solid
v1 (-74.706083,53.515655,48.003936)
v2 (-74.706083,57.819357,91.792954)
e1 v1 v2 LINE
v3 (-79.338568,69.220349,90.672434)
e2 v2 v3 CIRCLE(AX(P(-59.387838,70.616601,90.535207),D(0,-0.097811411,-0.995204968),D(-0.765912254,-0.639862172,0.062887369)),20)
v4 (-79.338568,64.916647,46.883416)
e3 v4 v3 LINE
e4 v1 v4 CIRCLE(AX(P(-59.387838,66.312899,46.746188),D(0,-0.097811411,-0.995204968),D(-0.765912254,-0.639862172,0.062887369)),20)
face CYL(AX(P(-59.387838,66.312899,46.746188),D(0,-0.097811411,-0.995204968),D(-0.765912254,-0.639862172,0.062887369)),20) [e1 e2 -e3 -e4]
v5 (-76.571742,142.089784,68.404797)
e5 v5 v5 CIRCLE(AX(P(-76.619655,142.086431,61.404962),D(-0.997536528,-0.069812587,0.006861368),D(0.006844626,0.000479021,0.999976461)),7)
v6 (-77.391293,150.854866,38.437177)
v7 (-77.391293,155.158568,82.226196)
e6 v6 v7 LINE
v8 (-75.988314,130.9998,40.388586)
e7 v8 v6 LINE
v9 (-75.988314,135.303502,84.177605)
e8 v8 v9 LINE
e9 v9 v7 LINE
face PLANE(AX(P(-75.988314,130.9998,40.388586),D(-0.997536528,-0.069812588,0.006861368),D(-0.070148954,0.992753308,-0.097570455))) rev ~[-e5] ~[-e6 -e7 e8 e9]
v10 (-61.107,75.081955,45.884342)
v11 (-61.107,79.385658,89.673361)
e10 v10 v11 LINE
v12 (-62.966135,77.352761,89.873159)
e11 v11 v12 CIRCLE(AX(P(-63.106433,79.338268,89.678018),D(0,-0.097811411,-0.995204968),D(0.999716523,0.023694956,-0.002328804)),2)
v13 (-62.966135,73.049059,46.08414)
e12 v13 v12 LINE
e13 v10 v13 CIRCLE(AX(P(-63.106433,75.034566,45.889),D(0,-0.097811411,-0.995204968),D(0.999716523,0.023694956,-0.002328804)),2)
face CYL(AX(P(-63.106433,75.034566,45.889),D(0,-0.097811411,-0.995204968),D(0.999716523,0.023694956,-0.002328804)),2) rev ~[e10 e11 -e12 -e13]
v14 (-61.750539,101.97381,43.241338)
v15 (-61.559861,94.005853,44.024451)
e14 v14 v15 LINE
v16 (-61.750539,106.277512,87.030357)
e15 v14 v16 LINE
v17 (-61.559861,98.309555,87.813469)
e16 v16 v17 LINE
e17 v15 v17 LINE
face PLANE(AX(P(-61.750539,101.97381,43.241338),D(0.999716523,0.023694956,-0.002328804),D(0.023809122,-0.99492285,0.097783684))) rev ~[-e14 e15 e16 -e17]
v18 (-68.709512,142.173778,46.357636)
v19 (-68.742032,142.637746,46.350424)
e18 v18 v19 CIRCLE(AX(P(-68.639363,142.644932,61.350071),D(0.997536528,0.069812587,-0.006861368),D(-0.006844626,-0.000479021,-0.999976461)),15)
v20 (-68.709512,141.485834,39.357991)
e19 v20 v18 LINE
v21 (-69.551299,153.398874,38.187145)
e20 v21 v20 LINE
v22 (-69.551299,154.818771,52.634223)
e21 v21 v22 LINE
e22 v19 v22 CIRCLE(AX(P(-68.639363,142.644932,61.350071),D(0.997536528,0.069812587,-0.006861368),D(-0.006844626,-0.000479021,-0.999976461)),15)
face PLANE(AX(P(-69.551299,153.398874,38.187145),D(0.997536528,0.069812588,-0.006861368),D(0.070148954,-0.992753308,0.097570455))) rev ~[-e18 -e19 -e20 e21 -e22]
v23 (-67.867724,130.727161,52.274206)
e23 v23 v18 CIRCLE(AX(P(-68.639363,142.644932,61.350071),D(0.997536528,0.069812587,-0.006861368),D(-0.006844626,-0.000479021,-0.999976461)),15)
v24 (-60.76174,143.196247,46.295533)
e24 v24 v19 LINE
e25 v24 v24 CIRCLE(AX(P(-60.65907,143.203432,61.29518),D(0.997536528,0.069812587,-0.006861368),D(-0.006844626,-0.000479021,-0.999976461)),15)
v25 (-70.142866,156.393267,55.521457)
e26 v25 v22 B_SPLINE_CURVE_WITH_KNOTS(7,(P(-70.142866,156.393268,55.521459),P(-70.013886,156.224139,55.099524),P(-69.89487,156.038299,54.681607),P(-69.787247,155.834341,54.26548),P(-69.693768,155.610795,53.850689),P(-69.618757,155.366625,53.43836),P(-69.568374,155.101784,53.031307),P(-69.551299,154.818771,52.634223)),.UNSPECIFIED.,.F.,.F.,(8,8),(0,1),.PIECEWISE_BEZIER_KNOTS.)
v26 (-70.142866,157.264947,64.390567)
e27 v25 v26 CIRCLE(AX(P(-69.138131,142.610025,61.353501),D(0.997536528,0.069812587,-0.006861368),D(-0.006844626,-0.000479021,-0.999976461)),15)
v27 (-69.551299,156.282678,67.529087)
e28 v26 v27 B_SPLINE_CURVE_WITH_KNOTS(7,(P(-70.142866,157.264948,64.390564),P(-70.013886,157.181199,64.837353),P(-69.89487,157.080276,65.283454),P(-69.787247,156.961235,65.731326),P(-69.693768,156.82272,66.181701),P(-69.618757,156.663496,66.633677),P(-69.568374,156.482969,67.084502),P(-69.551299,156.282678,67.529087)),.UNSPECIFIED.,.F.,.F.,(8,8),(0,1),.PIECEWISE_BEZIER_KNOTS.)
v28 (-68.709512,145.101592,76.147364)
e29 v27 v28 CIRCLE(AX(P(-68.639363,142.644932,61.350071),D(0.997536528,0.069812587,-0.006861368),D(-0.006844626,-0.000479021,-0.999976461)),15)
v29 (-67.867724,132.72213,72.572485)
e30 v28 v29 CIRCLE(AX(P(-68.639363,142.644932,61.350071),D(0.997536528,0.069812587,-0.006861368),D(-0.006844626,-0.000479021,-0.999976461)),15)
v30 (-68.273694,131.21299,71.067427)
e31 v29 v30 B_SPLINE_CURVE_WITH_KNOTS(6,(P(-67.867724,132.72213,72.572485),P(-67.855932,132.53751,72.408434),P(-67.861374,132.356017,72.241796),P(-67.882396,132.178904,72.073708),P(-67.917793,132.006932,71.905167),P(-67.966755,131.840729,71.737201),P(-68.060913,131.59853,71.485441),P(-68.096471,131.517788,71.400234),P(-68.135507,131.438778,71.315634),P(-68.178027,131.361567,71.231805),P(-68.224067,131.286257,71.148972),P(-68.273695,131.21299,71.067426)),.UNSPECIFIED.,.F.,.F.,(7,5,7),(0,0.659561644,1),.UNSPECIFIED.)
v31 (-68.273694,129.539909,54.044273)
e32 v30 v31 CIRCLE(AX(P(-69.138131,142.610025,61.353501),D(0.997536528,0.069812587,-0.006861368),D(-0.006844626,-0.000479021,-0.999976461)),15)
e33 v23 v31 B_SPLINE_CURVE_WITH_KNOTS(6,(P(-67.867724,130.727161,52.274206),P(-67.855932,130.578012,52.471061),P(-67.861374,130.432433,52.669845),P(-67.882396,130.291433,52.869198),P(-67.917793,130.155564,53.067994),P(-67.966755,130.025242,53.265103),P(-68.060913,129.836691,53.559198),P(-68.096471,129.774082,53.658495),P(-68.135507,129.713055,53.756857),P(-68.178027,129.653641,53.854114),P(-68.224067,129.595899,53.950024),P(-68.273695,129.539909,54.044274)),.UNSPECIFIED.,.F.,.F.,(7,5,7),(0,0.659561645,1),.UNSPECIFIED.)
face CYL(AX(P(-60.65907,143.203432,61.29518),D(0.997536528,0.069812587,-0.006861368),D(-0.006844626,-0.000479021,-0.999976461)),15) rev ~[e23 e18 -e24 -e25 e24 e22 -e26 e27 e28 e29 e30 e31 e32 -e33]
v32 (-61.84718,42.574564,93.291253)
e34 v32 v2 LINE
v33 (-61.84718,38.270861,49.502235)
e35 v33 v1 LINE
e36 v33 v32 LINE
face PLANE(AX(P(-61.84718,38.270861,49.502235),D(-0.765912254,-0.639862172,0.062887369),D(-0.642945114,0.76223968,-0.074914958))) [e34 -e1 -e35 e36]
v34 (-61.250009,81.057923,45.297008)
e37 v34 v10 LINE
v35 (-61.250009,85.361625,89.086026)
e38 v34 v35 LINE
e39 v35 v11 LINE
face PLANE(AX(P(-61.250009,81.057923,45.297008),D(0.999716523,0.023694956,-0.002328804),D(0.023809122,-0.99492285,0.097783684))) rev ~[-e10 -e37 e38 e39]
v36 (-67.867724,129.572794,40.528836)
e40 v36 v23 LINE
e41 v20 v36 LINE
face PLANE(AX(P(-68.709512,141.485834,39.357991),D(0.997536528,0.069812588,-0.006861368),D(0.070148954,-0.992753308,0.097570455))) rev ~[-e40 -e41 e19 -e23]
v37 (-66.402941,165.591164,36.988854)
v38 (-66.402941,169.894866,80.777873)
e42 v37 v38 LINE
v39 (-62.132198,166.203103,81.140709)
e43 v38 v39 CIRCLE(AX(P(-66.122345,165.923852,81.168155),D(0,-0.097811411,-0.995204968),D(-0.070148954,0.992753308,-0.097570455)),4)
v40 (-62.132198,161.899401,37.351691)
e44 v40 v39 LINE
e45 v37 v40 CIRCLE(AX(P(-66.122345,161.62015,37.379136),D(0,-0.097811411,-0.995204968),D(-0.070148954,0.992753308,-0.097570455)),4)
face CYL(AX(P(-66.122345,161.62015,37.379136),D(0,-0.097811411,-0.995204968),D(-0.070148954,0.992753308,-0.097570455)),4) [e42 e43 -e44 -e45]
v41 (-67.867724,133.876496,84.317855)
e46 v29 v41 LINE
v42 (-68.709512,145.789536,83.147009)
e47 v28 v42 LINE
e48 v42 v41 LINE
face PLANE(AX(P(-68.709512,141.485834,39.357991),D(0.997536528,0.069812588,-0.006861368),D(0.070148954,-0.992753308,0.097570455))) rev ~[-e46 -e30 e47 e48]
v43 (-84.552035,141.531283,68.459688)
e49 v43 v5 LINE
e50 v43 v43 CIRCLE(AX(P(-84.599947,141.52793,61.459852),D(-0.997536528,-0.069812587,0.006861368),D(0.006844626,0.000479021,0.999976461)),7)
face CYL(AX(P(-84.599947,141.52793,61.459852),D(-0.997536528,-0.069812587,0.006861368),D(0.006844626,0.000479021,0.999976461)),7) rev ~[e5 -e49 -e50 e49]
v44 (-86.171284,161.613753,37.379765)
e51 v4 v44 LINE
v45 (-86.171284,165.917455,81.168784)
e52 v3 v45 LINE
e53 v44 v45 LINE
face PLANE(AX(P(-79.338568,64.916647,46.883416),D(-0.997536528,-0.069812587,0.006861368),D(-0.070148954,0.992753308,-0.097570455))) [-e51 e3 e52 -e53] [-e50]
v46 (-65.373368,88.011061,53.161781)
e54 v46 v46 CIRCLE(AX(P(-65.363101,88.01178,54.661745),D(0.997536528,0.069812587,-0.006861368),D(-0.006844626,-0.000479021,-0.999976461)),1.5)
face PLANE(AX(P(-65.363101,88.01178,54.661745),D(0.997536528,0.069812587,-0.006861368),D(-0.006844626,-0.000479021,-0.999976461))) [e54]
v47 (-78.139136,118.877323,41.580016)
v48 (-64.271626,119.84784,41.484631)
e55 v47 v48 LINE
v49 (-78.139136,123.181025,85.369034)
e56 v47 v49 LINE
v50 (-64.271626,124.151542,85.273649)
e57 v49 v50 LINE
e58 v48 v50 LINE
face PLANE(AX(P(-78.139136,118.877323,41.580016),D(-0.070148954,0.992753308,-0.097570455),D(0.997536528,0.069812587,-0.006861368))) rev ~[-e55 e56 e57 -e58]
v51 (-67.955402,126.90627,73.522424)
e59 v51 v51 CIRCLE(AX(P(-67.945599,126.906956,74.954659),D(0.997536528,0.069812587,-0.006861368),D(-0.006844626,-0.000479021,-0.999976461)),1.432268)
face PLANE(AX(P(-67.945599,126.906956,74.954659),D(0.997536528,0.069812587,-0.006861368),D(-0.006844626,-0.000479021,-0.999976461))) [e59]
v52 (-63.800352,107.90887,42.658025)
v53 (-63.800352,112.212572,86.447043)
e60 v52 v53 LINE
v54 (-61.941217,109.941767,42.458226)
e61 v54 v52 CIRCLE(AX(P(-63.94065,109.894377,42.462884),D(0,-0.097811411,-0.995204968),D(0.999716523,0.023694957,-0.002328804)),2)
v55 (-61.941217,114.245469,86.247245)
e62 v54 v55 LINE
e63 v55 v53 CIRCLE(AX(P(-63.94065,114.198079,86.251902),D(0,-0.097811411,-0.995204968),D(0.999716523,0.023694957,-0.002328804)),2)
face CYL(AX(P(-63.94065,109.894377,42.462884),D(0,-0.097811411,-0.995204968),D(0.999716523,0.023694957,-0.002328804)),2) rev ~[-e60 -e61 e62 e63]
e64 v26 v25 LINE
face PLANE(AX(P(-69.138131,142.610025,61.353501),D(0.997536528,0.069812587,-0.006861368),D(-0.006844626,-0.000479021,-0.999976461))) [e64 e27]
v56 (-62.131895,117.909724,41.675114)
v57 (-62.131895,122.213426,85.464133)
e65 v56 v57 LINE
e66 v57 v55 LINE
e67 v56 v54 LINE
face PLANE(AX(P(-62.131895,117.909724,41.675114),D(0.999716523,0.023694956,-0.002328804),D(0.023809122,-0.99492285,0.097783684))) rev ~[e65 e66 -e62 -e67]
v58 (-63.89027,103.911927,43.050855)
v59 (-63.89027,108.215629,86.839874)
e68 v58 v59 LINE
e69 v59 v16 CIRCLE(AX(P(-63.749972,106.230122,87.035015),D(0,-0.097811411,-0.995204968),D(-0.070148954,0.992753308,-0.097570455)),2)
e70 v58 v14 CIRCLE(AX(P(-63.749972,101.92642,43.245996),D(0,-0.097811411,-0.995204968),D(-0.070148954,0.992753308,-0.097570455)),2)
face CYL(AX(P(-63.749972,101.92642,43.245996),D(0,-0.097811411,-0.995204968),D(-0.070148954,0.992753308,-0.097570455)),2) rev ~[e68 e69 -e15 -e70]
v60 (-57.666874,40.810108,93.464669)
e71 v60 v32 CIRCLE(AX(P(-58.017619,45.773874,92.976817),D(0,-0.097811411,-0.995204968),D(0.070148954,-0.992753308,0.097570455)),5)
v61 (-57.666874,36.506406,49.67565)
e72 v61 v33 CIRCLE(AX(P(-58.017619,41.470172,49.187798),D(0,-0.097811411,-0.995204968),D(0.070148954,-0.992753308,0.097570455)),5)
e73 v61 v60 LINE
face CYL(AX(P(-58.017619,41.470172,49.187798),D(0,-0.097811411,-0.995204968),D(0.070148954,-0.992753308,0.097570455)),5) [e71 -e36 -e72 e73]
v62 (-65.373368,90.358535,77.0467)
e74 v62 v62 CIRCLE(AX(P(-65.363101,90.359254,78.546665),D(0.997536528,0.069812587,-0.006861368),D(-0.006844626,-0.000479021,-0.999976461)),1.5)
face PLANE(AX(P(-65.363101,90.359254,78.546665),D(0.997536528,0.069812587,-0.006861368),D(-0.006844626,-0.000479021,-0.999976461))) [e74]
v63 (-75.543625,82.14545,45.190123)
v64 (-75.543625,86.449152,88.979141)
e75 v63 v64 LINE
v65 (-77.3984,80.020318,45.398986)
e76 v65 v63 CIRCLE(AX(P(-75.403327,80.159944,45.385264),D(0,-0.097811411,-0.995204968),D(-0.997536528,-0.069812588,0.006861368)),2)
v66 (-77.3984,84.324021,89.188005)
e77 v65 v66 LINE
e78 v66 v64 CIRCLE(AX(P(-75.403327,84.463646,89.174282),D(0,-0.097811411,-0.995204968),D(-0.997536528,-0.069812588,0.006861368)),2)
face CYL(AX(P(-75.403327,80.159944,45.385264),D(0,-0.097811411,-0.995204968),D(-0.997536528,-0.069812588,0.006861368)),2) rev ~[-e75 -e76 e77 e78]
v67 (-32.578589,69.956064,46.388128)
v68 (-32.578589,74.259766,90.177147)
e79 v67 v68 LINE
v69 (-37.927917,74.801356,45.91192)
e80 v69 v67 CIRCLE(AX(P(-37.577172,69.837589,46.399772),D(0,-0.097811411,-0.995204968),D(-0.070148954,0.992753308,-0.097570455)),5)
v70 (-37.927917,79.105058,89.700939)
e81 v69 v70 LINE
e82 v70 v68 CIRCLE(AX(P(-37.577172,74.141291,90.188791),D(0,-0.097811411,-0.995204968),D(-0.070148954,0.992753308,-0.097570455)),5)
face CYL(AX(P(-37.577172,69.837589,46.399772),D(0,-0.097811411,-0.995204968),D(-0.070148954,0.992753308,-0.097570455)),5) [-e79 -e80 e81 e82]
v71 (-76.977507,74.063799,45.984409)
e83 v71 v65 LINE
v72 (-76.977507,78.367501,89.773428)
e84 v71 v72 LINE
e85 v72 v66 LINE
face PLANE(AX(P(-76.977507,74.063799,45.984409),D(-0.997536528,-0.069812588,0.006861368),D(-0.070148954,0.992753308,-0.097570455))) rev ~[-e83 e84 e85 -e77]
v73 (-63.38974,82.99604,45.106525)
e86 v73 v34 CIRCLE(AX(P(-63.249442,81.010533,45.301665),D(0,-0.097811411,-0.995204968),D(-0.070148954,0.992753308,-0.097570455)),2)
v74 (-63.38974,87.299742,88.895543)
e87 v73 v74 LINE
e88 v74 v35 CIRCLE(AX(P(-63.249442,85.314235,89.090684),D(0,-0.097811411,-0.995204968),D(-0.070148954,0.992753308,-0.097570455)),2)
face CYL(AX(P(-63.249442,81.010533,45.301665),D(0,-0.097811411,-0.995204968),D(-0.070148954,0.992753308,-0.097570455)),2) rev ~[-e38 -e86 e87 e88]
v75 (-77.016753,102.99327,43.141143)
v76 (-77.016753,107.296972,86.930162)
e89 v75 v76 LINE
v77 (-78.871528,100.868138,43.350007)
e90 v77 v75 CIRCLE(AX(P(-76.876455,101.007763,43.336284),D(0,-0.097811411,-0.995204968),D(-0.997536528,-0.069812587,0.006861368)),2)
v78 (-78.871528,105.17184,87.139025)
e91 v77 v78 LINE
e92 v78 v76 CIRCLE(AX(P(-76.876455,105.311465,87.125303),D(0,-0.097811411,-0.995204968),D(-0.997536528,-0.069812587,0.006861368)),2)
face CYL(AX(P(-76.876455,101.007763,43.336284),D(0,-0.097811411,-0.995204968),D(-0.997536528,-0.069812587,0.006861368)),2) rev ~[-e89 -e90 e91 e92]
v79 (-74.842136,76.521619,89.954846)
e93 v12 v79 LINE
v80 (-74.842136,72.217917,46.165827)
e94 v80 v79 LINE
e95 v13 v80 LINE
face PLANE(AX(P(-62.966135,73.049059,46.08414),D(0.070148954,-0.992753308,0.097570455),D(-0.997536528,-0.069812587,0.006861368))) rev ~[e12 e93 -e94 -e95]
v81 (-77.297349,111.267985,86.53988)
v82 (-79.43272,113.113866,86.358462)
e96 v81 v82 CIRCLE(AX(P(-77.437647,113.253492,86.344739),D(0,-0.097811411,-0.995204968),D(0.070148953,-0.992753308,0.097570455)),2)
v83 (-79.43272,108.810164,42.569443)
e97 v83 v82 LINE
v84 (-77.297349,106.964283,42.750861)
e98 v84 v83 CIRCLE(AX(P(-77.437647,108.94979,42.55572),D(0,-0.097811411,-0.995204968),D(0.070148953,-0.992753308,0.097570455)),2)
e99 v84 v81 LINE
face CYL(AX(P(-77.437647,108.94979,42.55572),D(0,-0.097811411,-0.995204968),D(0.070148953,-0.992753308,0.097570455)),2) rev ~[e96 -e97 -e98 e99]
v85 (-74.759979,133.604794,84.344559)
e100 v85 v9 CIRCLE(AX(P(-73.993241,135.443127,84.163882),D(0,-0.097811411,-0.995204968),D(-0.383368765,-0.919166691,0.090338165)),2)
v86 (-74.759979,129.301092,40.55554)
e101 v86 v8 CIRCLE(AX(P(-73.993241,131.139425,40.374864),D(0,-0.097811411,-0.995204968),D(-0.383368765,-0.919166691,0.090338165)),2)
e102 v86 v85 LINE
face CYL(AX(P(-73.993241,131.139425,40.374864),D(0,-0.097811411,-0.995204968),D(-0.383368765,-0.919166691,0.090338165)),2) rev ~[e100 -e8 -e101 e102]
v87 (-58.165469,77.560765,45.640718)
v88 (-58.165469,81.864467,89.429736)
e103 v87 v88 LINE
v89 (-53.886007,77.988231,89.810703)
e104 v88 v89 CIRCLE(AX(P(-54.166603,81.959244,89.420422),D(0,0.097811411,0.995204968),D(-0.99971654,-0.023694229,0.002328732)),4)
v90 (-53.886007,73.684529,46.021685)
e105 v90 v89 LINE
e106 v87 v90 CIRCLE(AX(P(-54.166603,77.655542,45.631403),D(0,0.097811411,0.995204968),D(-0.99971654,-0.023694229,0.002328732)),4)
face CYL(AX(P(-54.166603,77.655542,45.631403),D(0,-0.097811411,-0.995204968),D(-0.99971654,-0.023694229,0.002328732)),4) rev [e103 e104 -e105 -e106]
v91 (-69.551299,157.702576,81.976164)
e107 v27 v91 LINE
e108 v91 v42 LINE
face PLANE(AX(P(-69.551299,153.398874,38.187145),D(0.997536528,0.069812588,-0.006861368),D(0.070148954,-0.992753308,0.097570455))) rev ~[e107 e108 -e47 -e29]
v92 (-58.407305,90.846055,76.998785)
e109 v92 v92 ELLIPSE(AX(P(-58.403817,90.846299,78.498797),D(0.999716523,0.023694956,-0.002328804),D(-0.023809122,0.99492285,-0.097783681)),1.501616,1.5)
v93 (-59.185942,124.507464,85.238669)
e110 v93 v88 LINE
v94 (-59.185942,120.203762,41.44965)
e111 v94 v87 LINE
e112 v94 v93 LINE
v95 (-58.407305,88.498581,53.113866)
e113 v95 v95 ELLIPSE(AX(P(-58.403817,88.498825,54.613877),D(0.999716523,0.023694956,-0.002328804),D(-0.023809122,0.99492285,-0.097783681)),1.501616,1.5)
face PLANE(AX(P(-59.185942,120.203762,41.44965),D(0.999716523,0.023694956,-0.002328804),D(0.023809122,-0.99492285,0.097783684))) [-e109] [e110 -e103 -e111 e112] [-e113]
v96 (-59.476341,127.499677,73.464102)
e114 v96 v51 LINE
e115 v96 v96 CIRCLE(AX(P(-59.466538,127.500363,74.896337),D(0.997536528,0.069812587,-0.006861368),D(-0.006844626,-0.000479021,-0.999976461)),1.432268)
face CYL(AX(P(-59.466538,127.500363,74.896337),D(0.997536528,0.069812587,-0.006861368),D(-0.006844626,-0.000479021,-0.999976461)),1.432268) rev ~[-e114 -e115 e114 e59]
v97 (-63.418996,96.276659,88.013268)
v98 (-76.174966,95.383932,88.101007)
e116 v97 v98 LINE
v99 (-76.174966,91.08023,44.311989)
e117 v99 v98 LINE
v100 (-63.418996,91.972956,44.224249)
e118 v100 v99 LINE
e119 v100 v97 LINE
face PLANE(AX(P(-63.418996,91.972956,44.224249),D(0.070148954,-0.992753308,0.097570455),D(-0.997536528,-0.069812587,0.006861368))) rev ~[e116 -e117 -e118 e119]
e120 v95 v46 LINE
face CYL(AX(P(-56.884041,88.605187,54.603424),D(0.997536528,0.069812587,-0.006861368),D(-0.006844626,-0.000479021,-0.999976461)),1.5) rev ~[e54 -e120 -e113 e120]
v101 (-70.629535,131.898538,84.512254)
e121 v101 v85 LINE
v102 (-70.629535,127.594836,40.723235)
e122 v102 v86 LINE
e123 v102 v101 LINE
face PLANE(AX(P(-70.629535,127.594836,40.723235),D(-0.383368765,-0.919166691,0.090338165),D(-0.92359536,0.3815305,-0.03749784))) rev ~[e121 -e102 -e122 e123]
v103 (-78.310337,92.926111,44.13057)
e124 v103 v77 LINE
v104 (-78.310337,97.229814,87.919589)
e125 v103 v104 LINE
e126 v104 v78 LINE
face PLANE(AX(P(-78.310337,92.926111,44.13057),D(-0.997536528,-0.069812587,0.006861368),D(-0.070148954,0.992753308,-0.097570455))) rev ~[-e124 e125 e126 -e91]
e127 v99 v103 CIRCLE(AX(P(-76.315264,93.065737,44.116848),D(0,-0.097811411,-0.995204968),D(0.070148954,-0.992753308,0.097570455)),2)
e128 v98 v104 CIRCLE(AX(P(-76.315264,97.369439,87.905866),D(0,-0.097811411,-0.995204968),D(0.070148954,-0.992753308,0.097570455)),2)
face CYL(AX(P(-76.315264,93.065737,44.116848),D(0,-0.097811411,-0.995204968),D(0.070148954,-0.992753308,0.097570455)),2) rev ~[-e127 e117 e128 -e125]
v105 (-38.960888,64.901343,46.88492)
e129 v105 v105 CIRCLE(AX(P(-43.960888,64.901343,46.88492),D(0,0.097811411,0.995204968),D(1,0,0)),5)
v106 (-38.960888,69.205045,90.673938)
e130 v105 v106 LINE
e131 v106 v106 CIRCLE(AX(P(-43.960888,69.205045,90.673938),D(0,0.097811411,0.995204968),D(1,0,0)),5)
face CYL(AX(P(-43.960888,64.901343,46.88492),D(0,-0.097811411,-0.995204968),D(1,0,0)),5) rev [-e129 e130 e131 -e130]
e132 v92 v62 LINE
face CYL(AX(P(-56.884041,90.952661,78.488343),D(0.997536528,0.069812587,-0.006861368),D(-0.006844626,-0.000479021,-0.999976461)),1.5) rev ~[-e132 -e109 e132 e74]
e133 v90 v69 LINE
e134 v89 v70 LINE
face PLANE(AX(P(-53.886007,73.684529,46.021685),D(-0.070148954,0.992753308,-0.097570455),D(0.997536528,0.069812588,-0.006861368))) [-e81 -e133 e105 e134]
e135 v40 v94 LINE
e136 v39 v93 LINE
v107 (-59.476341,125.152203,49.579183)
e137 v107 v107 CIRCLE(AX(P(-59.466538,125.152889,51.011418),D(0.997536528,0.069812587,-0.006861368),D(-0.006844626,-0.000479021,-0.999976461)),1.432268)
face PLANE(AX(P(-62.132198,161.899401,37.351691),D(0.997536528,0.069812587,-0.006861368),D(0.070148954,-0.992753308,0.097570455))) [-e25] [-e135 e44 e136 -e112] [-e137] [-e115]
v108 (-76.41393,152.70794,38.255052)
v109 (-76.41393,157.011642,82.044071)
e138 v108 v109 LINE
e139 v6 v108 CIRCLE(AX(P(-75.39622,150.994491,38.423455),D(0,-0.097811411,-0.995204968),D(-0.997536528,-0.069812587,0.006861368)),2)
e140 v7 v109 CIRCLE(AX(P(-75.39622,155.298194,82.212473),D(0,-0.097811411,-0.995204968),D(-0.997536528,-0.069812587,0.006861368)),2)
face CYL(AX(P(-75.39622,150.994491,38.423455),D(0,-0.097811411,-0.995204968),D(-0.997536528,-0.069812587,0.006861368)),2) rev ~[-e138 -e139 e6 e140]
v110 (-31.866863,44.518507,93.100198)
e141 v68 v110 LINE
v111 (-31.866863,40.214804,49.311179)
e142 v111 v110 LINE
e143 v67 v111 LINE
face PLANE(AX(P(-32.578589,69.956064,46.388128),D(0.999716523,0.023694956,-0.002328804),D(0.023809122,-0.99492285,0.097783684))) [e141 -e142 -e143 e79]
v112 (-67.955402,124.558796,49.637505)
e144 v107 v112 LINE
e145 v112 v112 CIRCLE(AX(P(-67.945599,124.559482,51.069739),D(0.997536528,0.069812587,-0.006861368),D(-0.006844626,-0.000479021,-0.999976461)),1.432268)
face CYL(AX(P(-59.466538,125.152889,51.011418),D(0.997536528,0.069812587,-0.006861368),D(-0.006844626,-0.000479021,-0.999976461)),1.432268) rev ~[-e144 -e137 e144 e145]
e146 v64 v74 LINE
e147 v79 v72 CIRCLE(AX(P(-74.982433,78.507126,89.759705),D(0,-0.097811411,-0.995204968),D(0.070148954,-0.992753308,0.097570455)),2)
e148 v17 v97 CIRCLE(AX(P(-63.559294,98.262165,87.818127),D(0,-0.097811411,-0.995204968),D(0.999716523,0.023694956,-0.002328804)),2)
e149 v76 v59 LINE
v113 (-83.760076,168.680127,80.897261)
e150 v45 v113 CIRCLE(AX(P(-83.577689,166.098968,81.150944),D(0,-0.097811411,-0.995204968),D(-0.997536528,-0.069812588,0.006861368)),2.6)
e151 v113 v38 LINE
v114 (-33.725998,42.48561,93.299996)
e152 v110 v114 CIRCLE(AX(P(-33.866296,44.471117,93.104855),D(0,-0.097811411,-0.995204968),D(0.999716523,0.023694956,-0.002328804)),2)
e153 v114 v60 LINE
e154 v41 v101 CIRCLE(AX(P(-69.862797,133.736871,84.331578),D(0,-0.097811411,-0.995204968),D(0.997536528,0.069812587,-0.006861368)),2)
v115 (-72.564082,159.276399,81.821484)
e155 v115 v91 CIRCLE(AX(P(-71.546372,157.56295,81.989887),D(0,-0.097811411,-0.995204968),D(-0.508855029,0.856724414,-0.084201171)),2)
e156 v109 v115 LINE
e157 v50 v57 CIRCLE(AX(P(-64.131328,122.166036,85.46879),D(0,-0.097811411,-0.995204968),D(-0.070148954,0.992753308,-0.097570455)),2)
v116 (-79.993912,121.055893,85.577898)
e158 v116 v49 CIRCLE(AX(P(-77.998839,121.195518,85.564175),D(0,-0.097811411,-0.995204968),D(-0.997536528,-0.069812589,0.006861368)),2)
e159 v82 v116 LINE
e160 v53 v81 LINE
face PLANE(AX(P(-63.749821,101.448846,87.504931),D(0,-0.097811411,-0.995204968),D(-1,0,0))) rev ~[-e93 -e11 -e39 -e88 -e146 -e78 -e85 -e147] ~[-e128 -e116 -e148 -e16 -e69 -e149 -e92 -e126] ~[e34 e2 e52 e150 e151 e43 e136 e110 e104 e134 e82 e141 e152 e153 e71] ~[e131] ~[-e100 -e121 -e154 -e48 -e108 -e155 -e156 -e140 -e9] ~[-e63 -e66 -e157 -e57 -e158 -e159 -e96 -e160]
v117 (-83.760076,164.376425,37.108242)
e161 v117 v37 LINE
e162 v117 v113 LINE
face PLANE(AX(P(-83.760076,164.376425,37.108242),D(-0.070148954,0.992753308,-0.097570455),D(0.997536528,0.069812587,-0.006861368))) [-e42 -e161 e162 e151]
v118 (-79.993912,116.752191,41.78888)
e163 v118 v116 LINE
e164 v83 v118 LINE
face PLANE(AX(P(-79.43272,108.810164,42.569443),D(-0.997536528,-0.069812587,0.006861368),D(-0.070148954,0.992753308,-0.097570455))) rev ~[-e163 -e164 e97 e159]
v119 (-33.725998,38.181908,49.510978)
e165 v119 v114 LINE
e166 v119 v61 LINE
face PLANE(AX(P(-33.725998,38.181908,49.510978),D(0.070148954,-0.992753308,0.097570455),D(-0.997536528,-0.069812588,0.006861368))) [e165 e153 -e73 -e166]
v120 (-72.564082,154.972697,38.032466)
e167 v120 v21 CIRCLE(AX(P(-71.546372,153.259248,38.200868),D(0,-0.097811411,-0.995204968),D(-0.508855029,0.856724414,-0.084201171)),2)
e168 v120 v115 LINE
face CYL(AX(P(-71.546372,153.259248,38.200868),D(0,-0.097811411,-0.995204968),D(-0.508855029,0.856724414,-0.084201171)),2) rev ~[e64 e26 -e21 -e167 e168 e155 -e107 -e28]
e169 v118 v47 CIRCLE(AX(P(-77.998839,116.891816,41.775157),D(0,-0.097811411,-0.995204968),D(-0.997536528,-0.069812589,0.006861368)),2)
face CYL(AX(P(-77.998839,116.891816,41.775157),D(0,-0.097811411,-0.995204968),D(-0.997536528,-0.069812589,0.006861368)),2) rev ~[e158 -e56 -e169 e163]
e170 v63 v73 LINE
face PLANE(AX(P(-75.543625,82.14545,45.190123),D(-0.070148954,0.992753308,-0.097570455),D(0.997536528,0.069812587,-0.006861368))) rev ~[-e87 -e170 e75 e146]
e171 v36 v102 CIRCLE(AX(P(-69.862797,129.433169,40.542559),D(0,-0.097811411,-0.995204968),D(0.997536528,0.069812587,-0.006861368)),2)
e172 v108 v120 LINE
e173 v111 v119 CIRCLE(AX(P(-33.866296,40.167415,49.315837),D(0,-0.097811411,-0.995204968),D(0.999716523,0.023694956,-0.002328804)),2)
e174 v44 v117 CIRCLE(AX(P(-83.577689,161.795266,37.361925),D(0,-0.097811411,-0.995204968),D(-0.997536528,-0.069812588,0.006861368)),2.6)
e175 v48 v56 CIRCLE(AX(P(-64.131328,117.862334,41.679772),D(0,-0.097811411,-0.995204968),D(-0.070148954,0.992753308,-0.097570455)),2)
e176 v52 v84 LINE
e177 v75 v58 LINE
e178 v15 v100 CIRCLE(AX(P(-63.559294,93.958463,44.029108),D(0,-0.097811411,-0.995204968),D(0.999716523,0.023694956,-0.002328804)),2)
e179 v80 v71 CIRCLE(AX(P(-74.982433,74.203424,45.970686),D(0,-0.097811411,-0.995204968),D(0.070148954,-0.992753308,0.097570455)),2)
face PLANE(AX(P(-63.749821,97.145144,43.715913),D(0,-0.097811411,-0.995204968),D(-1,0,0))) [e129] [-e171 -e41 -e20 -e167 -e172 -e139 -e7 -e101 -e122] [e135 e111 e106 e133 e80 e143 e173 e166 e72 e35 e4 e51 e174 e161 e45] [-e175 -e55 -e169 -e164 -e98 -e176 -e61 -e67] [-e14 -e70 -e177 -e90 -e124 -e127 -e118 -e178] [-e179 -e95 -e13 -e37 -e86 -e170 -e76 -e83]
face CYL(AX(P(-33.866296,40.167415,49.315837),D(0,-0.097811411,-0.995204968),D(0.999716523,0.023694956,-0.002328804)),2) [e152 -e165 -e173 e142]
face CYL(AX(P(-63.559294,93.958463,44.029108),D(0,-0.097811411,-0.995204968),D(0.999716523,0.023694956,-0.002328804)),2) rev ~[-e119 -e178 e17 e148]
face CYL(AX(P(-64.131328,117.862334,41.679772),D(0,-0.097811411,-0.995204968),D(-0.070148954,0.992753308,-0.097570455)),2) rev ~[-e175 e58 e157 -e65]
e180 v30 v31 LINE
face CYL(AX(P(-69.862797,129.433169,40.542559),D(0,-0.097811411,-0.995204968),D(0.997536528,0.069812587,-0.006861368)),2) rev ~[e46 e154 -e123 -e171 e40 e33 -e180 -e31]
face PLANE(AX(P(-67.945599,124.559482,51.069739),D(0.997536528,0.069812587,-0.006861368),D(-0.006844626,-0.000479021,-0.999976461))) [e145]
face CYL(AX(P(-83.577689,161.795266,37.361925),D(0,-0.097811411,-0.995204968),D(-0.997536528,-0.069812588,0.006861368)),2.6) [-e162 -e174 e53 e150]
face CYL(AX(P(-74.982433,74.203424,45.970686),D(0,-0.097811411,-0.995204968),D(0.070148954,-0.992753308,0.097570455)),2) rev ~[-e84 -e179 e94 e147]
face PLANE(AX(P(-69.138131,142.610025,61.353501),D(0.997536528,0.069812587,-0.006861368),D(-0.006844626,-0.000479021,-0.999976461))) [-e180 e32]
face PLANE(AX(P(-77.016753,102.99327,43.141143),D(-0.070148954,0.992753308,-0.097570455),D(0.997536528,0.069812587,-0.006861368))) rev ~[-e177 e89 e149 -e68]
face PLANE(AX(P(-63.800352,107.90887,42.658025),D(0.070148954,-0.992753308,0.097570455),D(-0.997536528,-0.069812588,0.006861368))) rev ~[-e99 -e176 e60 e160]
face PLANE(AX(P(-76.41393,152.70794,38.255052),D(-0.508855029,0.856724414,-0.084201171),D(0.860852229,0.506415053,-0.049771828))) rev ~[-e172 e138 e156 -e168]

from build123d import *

# Parameters (mm, degrees)
SKETCH2_R           = 5
BOSS_EXTRUDE1_DEPTH = 44
SKETCH4_R           = 7
CUT_EXTRUDE1_DEPTH  = 44
SKETCH3_R           = 15
SKETCH3_R_2         = 1.432268471
SKETCH3_R_3         = 1.5
CUT_EXTRUDE2_DEPTH  = 8.5


with BuildPart() as part:
    # Sketch2 → Boss-Extrude1 (new body)
    with BuildSketch(Plane(origin=(0, 5.184806561, 52.754021043), x_dir=(1, 0, 0), z_dir=(0, 0.097811411, 0.995204968))):
        with BuildLine():
            Line((-79.338568196, 60.019636282), (-86.171283653, 157.182642502))
            ThreePointArc((-86.171283653, 157.182642502), (-85.540604549, 159.070011115), (-83.760075933, 159.958624788))
            Line((-83.760075933, 159.958624788), (-66.40294057, 161.179216572))
            ThreePointArc((-66.40294057, 161.179216572), (-63.499296447, 160.208940992), (-62.13219844, 157.469666101))
            Line((-62.13219844, 157.469666101), (-59.185942386, 115.573132123))
            Line((-59.185942386, 115.573132123), (-58.165469, 72.72467593))
            ThreePointArc((-58.165469, 72.72467593), (-56.858994047, 69.861695577), (-53.88600747, 68.829763352))
            Line((-53.88600747, 68.829763352), (-37.927916785, 69.95197125))
            ThreePointArc((-37.927916785, 69.95197125), (-34.211684563, 68.662057426), (-32.578589401, 65.083334219))
            Line((-32.578589401, 65.083334219), (-31.866862588, 35.198777134))
            ThreePointArc((-31.866862588, 35.198777134), (-32.387188107, 33.80496391), (-33.725997726, 33.156085835))
            Line((-33.725997726, 33.156085835), (-57.666874392, 31.472510939))
            ThreePointArc((-57.666874392, 31.472510939), (-59.969896102, 31.85708433), (-61.84718043, 33.245468007))
            Line((-61.84718043, 33.245468007), (-74.706082713, 48.563713079))
            ThreePointArc((-74.706082713, 48.563713079), (-77.929269747, 53.924929356), (-79.338568196, 60.019636282))
        make_face()
        with Locations((-43.960887699, 60.004258737)):
            Circle(SKETCH2_R, mode=Mode.SUBTRACT)
        with BuildLine():
            Line((-62.966135351, 68.191231545), (-74.842135577, 67.356085192))
            ThreePointArc((-74.842135577, 67.356085192), (-76.293957569, 67.841222959), (-76.97750654, 69.21086034))
            Line((-76.97750654, 69.21086034), (-77.398400264, 75.196079506))
            ThreePointArc((-77.398400264, 75.196079506), (-76.913262497, 76.647901499), (-75.543625116, 77.33145047))
            Line((-75.543625116, 77.33145047), (-63.389739784, 78.186138312))
            ThreePointArc((-63.389739784, 78.186138312), (-61.903246895, 77.670172783), (-61.25000883, 76.2386835))
            Line((-61.25000883, 76.2386835), (-61.107000214, 70.233922844))
            ThreePointArc((-61.107000214, 70.233922844), (-61.627325733, 68.84010962), (-62.966135351, 68.191231545))
        make_face(mode=Mode.SUBTRACT)
        with BuildLine():
            Line((-63.800352281, 103.21900204), (-77.297348966, 102.269863664))
            ThreePointArc((-77.297348966, 102.269863664), (-78.749170958, 102.755001431), (-79.43271993, 104.124638812))
            Line((-79.43271993, 104.124638812), (-79.993911561, 112.104931034))
            ThreePointArc((-79.993911561, 112.104931034), (-79.508773795, 113.556753027), (-78.139136414, 114.240301998))
            Line((-78.139136414, 114.240301998), (-64.271626252, 115.215495692))
            ThreePointArc((-64.271626252, 115.215495692), (-62.785133364, 114.699530163), (-62.131895299, 113.26804088))
            Line((-62.131895299, 113.26804088), (-61.941217144, 105.261693339))
            ThreePointArc((-61.941217144, 105.261693339), (-62.461542663, 103.867880114), (-63.800352281, 103.21900204))
        make_face(mode=Mode.SUBTRACT)
        with BuildLine():
            Line((-76.689803818, 136.396552471), (-77.391293358, 146.371917749))
            ThreePointArc((-77.391293358, 146.371917749), (-77.167089785, 147.441743104), (-76.413930361, 148.233920114))
            Line((-76.413930361, 148.233920114), (-72.564082157, 150.509588985))
            ThreePointArc((-72.564082157, 150.509588985), (-70.616844652, 150.558754011), (-69.551299044, 148.928182436))
            Line((-69.551299044, 148.928182436), (-68.709511596, 136.957744103))
            Line((-68.709511596, 136.957744103), (-67.867724148, 124.987305769))
            ThreePointArc((-67.867724148, 124.987305769), (-68.694580699, 123.223656329), (-70.629534734, 122.999817141))
            Line((-70.629534734, 122.999817141), (-74.759978753, 124.71429438))
            ThreePointArc((-74.759978753, 124.71429438), (-75.616592755, 125.393268596), (-75.988314278, 126.421187193))
            Line((-75.988314278, 126.421187193), (-76.689803818, 136.396552471))
        make_face(mode=Mode.SUBTRACT)
        with BuildLine():
            Line((-63.41899597, 87.206306956), (-76.174965702, 86.30927922))
            ThreePointArc((-76.174965702, 86.30927922), (-77.626787695, 86.794416987), (-78.310336666, 88.164054367))
            Line((-78.310336666, 88.164054367), (-78.871528298, 96.14434659))
            ThreePointArc((-78.871528298, 96.14434659), (-78.386390531, 97.596168582), (-77.01675315, 98.279717553))
            Line((-77.01675315, 98.279717553), (-63.890269942, 99.202800609))
            ThreePointArc((-63.890269942, 99.202800609), (-62.403777053, 98.68683508), (-61.750538988, 97.255345797))
            Line((-61.750538988, 97.255345797), (-61.559860833, 89.248998255))
            ThreePointArc((-61.559860833, 89.248998255), (-62.080186352, 87.855185031), (-63.41899597, 87.206306956))
        make_face(mode=Mode.SUBTRACT)
    extrude(amount=BOSS_EXTRUDE1_DEPTH)

    # Sketch4 → Cut-Extrude1 (cut)
    with BuildSketch(Plane(origin=(-74.74821025, -5.231253014, 0.514141565), x_dir=(0.006844627, 0.000479021, 0.999976461), z_dir=(-0.997536528, -0.069812587, 0.006861368))):
        with Locations((60.947145558, 147.088883585)):
            Circle(SKETCH4_R)
    extrude(amount=-CUT_EXTRUDE1_DEPTH, mode=Mode.SUBTRACT)

    # Sketch3 → Cut-Extrude2 (cut)
    with BuildSketch(Plane(origin=(-50.807333583, -3.555750914, 0.349468729), x_dir=(-0.006844627, -0.000479021, -0.999976461), z_dir=(0.997536528, 0.069812587, -0.006861368))):
        with Locations((-60.947145558, 147.088883585)):
            Circle(SKETCH3_R)
        with Locations((-74.548623077, 131.340873995)):
            Circle(SKETCH3_R_2)
        with Locations((-78.140713739, 94.702052828)):
            Circle(SKETCH3_R_3)
        with Locations((-54.255232262, 92.360306772)):
            Circle(SKETCH3_R_3)
        with Locations((-50.6631416, 128.999127938)):
            Circle(SKETCH3_R_2)
    extrude(amount=-CUT_EXTRUDE2_DEPTH, mode=Mode.SUBTRACT)


solid = part.part
